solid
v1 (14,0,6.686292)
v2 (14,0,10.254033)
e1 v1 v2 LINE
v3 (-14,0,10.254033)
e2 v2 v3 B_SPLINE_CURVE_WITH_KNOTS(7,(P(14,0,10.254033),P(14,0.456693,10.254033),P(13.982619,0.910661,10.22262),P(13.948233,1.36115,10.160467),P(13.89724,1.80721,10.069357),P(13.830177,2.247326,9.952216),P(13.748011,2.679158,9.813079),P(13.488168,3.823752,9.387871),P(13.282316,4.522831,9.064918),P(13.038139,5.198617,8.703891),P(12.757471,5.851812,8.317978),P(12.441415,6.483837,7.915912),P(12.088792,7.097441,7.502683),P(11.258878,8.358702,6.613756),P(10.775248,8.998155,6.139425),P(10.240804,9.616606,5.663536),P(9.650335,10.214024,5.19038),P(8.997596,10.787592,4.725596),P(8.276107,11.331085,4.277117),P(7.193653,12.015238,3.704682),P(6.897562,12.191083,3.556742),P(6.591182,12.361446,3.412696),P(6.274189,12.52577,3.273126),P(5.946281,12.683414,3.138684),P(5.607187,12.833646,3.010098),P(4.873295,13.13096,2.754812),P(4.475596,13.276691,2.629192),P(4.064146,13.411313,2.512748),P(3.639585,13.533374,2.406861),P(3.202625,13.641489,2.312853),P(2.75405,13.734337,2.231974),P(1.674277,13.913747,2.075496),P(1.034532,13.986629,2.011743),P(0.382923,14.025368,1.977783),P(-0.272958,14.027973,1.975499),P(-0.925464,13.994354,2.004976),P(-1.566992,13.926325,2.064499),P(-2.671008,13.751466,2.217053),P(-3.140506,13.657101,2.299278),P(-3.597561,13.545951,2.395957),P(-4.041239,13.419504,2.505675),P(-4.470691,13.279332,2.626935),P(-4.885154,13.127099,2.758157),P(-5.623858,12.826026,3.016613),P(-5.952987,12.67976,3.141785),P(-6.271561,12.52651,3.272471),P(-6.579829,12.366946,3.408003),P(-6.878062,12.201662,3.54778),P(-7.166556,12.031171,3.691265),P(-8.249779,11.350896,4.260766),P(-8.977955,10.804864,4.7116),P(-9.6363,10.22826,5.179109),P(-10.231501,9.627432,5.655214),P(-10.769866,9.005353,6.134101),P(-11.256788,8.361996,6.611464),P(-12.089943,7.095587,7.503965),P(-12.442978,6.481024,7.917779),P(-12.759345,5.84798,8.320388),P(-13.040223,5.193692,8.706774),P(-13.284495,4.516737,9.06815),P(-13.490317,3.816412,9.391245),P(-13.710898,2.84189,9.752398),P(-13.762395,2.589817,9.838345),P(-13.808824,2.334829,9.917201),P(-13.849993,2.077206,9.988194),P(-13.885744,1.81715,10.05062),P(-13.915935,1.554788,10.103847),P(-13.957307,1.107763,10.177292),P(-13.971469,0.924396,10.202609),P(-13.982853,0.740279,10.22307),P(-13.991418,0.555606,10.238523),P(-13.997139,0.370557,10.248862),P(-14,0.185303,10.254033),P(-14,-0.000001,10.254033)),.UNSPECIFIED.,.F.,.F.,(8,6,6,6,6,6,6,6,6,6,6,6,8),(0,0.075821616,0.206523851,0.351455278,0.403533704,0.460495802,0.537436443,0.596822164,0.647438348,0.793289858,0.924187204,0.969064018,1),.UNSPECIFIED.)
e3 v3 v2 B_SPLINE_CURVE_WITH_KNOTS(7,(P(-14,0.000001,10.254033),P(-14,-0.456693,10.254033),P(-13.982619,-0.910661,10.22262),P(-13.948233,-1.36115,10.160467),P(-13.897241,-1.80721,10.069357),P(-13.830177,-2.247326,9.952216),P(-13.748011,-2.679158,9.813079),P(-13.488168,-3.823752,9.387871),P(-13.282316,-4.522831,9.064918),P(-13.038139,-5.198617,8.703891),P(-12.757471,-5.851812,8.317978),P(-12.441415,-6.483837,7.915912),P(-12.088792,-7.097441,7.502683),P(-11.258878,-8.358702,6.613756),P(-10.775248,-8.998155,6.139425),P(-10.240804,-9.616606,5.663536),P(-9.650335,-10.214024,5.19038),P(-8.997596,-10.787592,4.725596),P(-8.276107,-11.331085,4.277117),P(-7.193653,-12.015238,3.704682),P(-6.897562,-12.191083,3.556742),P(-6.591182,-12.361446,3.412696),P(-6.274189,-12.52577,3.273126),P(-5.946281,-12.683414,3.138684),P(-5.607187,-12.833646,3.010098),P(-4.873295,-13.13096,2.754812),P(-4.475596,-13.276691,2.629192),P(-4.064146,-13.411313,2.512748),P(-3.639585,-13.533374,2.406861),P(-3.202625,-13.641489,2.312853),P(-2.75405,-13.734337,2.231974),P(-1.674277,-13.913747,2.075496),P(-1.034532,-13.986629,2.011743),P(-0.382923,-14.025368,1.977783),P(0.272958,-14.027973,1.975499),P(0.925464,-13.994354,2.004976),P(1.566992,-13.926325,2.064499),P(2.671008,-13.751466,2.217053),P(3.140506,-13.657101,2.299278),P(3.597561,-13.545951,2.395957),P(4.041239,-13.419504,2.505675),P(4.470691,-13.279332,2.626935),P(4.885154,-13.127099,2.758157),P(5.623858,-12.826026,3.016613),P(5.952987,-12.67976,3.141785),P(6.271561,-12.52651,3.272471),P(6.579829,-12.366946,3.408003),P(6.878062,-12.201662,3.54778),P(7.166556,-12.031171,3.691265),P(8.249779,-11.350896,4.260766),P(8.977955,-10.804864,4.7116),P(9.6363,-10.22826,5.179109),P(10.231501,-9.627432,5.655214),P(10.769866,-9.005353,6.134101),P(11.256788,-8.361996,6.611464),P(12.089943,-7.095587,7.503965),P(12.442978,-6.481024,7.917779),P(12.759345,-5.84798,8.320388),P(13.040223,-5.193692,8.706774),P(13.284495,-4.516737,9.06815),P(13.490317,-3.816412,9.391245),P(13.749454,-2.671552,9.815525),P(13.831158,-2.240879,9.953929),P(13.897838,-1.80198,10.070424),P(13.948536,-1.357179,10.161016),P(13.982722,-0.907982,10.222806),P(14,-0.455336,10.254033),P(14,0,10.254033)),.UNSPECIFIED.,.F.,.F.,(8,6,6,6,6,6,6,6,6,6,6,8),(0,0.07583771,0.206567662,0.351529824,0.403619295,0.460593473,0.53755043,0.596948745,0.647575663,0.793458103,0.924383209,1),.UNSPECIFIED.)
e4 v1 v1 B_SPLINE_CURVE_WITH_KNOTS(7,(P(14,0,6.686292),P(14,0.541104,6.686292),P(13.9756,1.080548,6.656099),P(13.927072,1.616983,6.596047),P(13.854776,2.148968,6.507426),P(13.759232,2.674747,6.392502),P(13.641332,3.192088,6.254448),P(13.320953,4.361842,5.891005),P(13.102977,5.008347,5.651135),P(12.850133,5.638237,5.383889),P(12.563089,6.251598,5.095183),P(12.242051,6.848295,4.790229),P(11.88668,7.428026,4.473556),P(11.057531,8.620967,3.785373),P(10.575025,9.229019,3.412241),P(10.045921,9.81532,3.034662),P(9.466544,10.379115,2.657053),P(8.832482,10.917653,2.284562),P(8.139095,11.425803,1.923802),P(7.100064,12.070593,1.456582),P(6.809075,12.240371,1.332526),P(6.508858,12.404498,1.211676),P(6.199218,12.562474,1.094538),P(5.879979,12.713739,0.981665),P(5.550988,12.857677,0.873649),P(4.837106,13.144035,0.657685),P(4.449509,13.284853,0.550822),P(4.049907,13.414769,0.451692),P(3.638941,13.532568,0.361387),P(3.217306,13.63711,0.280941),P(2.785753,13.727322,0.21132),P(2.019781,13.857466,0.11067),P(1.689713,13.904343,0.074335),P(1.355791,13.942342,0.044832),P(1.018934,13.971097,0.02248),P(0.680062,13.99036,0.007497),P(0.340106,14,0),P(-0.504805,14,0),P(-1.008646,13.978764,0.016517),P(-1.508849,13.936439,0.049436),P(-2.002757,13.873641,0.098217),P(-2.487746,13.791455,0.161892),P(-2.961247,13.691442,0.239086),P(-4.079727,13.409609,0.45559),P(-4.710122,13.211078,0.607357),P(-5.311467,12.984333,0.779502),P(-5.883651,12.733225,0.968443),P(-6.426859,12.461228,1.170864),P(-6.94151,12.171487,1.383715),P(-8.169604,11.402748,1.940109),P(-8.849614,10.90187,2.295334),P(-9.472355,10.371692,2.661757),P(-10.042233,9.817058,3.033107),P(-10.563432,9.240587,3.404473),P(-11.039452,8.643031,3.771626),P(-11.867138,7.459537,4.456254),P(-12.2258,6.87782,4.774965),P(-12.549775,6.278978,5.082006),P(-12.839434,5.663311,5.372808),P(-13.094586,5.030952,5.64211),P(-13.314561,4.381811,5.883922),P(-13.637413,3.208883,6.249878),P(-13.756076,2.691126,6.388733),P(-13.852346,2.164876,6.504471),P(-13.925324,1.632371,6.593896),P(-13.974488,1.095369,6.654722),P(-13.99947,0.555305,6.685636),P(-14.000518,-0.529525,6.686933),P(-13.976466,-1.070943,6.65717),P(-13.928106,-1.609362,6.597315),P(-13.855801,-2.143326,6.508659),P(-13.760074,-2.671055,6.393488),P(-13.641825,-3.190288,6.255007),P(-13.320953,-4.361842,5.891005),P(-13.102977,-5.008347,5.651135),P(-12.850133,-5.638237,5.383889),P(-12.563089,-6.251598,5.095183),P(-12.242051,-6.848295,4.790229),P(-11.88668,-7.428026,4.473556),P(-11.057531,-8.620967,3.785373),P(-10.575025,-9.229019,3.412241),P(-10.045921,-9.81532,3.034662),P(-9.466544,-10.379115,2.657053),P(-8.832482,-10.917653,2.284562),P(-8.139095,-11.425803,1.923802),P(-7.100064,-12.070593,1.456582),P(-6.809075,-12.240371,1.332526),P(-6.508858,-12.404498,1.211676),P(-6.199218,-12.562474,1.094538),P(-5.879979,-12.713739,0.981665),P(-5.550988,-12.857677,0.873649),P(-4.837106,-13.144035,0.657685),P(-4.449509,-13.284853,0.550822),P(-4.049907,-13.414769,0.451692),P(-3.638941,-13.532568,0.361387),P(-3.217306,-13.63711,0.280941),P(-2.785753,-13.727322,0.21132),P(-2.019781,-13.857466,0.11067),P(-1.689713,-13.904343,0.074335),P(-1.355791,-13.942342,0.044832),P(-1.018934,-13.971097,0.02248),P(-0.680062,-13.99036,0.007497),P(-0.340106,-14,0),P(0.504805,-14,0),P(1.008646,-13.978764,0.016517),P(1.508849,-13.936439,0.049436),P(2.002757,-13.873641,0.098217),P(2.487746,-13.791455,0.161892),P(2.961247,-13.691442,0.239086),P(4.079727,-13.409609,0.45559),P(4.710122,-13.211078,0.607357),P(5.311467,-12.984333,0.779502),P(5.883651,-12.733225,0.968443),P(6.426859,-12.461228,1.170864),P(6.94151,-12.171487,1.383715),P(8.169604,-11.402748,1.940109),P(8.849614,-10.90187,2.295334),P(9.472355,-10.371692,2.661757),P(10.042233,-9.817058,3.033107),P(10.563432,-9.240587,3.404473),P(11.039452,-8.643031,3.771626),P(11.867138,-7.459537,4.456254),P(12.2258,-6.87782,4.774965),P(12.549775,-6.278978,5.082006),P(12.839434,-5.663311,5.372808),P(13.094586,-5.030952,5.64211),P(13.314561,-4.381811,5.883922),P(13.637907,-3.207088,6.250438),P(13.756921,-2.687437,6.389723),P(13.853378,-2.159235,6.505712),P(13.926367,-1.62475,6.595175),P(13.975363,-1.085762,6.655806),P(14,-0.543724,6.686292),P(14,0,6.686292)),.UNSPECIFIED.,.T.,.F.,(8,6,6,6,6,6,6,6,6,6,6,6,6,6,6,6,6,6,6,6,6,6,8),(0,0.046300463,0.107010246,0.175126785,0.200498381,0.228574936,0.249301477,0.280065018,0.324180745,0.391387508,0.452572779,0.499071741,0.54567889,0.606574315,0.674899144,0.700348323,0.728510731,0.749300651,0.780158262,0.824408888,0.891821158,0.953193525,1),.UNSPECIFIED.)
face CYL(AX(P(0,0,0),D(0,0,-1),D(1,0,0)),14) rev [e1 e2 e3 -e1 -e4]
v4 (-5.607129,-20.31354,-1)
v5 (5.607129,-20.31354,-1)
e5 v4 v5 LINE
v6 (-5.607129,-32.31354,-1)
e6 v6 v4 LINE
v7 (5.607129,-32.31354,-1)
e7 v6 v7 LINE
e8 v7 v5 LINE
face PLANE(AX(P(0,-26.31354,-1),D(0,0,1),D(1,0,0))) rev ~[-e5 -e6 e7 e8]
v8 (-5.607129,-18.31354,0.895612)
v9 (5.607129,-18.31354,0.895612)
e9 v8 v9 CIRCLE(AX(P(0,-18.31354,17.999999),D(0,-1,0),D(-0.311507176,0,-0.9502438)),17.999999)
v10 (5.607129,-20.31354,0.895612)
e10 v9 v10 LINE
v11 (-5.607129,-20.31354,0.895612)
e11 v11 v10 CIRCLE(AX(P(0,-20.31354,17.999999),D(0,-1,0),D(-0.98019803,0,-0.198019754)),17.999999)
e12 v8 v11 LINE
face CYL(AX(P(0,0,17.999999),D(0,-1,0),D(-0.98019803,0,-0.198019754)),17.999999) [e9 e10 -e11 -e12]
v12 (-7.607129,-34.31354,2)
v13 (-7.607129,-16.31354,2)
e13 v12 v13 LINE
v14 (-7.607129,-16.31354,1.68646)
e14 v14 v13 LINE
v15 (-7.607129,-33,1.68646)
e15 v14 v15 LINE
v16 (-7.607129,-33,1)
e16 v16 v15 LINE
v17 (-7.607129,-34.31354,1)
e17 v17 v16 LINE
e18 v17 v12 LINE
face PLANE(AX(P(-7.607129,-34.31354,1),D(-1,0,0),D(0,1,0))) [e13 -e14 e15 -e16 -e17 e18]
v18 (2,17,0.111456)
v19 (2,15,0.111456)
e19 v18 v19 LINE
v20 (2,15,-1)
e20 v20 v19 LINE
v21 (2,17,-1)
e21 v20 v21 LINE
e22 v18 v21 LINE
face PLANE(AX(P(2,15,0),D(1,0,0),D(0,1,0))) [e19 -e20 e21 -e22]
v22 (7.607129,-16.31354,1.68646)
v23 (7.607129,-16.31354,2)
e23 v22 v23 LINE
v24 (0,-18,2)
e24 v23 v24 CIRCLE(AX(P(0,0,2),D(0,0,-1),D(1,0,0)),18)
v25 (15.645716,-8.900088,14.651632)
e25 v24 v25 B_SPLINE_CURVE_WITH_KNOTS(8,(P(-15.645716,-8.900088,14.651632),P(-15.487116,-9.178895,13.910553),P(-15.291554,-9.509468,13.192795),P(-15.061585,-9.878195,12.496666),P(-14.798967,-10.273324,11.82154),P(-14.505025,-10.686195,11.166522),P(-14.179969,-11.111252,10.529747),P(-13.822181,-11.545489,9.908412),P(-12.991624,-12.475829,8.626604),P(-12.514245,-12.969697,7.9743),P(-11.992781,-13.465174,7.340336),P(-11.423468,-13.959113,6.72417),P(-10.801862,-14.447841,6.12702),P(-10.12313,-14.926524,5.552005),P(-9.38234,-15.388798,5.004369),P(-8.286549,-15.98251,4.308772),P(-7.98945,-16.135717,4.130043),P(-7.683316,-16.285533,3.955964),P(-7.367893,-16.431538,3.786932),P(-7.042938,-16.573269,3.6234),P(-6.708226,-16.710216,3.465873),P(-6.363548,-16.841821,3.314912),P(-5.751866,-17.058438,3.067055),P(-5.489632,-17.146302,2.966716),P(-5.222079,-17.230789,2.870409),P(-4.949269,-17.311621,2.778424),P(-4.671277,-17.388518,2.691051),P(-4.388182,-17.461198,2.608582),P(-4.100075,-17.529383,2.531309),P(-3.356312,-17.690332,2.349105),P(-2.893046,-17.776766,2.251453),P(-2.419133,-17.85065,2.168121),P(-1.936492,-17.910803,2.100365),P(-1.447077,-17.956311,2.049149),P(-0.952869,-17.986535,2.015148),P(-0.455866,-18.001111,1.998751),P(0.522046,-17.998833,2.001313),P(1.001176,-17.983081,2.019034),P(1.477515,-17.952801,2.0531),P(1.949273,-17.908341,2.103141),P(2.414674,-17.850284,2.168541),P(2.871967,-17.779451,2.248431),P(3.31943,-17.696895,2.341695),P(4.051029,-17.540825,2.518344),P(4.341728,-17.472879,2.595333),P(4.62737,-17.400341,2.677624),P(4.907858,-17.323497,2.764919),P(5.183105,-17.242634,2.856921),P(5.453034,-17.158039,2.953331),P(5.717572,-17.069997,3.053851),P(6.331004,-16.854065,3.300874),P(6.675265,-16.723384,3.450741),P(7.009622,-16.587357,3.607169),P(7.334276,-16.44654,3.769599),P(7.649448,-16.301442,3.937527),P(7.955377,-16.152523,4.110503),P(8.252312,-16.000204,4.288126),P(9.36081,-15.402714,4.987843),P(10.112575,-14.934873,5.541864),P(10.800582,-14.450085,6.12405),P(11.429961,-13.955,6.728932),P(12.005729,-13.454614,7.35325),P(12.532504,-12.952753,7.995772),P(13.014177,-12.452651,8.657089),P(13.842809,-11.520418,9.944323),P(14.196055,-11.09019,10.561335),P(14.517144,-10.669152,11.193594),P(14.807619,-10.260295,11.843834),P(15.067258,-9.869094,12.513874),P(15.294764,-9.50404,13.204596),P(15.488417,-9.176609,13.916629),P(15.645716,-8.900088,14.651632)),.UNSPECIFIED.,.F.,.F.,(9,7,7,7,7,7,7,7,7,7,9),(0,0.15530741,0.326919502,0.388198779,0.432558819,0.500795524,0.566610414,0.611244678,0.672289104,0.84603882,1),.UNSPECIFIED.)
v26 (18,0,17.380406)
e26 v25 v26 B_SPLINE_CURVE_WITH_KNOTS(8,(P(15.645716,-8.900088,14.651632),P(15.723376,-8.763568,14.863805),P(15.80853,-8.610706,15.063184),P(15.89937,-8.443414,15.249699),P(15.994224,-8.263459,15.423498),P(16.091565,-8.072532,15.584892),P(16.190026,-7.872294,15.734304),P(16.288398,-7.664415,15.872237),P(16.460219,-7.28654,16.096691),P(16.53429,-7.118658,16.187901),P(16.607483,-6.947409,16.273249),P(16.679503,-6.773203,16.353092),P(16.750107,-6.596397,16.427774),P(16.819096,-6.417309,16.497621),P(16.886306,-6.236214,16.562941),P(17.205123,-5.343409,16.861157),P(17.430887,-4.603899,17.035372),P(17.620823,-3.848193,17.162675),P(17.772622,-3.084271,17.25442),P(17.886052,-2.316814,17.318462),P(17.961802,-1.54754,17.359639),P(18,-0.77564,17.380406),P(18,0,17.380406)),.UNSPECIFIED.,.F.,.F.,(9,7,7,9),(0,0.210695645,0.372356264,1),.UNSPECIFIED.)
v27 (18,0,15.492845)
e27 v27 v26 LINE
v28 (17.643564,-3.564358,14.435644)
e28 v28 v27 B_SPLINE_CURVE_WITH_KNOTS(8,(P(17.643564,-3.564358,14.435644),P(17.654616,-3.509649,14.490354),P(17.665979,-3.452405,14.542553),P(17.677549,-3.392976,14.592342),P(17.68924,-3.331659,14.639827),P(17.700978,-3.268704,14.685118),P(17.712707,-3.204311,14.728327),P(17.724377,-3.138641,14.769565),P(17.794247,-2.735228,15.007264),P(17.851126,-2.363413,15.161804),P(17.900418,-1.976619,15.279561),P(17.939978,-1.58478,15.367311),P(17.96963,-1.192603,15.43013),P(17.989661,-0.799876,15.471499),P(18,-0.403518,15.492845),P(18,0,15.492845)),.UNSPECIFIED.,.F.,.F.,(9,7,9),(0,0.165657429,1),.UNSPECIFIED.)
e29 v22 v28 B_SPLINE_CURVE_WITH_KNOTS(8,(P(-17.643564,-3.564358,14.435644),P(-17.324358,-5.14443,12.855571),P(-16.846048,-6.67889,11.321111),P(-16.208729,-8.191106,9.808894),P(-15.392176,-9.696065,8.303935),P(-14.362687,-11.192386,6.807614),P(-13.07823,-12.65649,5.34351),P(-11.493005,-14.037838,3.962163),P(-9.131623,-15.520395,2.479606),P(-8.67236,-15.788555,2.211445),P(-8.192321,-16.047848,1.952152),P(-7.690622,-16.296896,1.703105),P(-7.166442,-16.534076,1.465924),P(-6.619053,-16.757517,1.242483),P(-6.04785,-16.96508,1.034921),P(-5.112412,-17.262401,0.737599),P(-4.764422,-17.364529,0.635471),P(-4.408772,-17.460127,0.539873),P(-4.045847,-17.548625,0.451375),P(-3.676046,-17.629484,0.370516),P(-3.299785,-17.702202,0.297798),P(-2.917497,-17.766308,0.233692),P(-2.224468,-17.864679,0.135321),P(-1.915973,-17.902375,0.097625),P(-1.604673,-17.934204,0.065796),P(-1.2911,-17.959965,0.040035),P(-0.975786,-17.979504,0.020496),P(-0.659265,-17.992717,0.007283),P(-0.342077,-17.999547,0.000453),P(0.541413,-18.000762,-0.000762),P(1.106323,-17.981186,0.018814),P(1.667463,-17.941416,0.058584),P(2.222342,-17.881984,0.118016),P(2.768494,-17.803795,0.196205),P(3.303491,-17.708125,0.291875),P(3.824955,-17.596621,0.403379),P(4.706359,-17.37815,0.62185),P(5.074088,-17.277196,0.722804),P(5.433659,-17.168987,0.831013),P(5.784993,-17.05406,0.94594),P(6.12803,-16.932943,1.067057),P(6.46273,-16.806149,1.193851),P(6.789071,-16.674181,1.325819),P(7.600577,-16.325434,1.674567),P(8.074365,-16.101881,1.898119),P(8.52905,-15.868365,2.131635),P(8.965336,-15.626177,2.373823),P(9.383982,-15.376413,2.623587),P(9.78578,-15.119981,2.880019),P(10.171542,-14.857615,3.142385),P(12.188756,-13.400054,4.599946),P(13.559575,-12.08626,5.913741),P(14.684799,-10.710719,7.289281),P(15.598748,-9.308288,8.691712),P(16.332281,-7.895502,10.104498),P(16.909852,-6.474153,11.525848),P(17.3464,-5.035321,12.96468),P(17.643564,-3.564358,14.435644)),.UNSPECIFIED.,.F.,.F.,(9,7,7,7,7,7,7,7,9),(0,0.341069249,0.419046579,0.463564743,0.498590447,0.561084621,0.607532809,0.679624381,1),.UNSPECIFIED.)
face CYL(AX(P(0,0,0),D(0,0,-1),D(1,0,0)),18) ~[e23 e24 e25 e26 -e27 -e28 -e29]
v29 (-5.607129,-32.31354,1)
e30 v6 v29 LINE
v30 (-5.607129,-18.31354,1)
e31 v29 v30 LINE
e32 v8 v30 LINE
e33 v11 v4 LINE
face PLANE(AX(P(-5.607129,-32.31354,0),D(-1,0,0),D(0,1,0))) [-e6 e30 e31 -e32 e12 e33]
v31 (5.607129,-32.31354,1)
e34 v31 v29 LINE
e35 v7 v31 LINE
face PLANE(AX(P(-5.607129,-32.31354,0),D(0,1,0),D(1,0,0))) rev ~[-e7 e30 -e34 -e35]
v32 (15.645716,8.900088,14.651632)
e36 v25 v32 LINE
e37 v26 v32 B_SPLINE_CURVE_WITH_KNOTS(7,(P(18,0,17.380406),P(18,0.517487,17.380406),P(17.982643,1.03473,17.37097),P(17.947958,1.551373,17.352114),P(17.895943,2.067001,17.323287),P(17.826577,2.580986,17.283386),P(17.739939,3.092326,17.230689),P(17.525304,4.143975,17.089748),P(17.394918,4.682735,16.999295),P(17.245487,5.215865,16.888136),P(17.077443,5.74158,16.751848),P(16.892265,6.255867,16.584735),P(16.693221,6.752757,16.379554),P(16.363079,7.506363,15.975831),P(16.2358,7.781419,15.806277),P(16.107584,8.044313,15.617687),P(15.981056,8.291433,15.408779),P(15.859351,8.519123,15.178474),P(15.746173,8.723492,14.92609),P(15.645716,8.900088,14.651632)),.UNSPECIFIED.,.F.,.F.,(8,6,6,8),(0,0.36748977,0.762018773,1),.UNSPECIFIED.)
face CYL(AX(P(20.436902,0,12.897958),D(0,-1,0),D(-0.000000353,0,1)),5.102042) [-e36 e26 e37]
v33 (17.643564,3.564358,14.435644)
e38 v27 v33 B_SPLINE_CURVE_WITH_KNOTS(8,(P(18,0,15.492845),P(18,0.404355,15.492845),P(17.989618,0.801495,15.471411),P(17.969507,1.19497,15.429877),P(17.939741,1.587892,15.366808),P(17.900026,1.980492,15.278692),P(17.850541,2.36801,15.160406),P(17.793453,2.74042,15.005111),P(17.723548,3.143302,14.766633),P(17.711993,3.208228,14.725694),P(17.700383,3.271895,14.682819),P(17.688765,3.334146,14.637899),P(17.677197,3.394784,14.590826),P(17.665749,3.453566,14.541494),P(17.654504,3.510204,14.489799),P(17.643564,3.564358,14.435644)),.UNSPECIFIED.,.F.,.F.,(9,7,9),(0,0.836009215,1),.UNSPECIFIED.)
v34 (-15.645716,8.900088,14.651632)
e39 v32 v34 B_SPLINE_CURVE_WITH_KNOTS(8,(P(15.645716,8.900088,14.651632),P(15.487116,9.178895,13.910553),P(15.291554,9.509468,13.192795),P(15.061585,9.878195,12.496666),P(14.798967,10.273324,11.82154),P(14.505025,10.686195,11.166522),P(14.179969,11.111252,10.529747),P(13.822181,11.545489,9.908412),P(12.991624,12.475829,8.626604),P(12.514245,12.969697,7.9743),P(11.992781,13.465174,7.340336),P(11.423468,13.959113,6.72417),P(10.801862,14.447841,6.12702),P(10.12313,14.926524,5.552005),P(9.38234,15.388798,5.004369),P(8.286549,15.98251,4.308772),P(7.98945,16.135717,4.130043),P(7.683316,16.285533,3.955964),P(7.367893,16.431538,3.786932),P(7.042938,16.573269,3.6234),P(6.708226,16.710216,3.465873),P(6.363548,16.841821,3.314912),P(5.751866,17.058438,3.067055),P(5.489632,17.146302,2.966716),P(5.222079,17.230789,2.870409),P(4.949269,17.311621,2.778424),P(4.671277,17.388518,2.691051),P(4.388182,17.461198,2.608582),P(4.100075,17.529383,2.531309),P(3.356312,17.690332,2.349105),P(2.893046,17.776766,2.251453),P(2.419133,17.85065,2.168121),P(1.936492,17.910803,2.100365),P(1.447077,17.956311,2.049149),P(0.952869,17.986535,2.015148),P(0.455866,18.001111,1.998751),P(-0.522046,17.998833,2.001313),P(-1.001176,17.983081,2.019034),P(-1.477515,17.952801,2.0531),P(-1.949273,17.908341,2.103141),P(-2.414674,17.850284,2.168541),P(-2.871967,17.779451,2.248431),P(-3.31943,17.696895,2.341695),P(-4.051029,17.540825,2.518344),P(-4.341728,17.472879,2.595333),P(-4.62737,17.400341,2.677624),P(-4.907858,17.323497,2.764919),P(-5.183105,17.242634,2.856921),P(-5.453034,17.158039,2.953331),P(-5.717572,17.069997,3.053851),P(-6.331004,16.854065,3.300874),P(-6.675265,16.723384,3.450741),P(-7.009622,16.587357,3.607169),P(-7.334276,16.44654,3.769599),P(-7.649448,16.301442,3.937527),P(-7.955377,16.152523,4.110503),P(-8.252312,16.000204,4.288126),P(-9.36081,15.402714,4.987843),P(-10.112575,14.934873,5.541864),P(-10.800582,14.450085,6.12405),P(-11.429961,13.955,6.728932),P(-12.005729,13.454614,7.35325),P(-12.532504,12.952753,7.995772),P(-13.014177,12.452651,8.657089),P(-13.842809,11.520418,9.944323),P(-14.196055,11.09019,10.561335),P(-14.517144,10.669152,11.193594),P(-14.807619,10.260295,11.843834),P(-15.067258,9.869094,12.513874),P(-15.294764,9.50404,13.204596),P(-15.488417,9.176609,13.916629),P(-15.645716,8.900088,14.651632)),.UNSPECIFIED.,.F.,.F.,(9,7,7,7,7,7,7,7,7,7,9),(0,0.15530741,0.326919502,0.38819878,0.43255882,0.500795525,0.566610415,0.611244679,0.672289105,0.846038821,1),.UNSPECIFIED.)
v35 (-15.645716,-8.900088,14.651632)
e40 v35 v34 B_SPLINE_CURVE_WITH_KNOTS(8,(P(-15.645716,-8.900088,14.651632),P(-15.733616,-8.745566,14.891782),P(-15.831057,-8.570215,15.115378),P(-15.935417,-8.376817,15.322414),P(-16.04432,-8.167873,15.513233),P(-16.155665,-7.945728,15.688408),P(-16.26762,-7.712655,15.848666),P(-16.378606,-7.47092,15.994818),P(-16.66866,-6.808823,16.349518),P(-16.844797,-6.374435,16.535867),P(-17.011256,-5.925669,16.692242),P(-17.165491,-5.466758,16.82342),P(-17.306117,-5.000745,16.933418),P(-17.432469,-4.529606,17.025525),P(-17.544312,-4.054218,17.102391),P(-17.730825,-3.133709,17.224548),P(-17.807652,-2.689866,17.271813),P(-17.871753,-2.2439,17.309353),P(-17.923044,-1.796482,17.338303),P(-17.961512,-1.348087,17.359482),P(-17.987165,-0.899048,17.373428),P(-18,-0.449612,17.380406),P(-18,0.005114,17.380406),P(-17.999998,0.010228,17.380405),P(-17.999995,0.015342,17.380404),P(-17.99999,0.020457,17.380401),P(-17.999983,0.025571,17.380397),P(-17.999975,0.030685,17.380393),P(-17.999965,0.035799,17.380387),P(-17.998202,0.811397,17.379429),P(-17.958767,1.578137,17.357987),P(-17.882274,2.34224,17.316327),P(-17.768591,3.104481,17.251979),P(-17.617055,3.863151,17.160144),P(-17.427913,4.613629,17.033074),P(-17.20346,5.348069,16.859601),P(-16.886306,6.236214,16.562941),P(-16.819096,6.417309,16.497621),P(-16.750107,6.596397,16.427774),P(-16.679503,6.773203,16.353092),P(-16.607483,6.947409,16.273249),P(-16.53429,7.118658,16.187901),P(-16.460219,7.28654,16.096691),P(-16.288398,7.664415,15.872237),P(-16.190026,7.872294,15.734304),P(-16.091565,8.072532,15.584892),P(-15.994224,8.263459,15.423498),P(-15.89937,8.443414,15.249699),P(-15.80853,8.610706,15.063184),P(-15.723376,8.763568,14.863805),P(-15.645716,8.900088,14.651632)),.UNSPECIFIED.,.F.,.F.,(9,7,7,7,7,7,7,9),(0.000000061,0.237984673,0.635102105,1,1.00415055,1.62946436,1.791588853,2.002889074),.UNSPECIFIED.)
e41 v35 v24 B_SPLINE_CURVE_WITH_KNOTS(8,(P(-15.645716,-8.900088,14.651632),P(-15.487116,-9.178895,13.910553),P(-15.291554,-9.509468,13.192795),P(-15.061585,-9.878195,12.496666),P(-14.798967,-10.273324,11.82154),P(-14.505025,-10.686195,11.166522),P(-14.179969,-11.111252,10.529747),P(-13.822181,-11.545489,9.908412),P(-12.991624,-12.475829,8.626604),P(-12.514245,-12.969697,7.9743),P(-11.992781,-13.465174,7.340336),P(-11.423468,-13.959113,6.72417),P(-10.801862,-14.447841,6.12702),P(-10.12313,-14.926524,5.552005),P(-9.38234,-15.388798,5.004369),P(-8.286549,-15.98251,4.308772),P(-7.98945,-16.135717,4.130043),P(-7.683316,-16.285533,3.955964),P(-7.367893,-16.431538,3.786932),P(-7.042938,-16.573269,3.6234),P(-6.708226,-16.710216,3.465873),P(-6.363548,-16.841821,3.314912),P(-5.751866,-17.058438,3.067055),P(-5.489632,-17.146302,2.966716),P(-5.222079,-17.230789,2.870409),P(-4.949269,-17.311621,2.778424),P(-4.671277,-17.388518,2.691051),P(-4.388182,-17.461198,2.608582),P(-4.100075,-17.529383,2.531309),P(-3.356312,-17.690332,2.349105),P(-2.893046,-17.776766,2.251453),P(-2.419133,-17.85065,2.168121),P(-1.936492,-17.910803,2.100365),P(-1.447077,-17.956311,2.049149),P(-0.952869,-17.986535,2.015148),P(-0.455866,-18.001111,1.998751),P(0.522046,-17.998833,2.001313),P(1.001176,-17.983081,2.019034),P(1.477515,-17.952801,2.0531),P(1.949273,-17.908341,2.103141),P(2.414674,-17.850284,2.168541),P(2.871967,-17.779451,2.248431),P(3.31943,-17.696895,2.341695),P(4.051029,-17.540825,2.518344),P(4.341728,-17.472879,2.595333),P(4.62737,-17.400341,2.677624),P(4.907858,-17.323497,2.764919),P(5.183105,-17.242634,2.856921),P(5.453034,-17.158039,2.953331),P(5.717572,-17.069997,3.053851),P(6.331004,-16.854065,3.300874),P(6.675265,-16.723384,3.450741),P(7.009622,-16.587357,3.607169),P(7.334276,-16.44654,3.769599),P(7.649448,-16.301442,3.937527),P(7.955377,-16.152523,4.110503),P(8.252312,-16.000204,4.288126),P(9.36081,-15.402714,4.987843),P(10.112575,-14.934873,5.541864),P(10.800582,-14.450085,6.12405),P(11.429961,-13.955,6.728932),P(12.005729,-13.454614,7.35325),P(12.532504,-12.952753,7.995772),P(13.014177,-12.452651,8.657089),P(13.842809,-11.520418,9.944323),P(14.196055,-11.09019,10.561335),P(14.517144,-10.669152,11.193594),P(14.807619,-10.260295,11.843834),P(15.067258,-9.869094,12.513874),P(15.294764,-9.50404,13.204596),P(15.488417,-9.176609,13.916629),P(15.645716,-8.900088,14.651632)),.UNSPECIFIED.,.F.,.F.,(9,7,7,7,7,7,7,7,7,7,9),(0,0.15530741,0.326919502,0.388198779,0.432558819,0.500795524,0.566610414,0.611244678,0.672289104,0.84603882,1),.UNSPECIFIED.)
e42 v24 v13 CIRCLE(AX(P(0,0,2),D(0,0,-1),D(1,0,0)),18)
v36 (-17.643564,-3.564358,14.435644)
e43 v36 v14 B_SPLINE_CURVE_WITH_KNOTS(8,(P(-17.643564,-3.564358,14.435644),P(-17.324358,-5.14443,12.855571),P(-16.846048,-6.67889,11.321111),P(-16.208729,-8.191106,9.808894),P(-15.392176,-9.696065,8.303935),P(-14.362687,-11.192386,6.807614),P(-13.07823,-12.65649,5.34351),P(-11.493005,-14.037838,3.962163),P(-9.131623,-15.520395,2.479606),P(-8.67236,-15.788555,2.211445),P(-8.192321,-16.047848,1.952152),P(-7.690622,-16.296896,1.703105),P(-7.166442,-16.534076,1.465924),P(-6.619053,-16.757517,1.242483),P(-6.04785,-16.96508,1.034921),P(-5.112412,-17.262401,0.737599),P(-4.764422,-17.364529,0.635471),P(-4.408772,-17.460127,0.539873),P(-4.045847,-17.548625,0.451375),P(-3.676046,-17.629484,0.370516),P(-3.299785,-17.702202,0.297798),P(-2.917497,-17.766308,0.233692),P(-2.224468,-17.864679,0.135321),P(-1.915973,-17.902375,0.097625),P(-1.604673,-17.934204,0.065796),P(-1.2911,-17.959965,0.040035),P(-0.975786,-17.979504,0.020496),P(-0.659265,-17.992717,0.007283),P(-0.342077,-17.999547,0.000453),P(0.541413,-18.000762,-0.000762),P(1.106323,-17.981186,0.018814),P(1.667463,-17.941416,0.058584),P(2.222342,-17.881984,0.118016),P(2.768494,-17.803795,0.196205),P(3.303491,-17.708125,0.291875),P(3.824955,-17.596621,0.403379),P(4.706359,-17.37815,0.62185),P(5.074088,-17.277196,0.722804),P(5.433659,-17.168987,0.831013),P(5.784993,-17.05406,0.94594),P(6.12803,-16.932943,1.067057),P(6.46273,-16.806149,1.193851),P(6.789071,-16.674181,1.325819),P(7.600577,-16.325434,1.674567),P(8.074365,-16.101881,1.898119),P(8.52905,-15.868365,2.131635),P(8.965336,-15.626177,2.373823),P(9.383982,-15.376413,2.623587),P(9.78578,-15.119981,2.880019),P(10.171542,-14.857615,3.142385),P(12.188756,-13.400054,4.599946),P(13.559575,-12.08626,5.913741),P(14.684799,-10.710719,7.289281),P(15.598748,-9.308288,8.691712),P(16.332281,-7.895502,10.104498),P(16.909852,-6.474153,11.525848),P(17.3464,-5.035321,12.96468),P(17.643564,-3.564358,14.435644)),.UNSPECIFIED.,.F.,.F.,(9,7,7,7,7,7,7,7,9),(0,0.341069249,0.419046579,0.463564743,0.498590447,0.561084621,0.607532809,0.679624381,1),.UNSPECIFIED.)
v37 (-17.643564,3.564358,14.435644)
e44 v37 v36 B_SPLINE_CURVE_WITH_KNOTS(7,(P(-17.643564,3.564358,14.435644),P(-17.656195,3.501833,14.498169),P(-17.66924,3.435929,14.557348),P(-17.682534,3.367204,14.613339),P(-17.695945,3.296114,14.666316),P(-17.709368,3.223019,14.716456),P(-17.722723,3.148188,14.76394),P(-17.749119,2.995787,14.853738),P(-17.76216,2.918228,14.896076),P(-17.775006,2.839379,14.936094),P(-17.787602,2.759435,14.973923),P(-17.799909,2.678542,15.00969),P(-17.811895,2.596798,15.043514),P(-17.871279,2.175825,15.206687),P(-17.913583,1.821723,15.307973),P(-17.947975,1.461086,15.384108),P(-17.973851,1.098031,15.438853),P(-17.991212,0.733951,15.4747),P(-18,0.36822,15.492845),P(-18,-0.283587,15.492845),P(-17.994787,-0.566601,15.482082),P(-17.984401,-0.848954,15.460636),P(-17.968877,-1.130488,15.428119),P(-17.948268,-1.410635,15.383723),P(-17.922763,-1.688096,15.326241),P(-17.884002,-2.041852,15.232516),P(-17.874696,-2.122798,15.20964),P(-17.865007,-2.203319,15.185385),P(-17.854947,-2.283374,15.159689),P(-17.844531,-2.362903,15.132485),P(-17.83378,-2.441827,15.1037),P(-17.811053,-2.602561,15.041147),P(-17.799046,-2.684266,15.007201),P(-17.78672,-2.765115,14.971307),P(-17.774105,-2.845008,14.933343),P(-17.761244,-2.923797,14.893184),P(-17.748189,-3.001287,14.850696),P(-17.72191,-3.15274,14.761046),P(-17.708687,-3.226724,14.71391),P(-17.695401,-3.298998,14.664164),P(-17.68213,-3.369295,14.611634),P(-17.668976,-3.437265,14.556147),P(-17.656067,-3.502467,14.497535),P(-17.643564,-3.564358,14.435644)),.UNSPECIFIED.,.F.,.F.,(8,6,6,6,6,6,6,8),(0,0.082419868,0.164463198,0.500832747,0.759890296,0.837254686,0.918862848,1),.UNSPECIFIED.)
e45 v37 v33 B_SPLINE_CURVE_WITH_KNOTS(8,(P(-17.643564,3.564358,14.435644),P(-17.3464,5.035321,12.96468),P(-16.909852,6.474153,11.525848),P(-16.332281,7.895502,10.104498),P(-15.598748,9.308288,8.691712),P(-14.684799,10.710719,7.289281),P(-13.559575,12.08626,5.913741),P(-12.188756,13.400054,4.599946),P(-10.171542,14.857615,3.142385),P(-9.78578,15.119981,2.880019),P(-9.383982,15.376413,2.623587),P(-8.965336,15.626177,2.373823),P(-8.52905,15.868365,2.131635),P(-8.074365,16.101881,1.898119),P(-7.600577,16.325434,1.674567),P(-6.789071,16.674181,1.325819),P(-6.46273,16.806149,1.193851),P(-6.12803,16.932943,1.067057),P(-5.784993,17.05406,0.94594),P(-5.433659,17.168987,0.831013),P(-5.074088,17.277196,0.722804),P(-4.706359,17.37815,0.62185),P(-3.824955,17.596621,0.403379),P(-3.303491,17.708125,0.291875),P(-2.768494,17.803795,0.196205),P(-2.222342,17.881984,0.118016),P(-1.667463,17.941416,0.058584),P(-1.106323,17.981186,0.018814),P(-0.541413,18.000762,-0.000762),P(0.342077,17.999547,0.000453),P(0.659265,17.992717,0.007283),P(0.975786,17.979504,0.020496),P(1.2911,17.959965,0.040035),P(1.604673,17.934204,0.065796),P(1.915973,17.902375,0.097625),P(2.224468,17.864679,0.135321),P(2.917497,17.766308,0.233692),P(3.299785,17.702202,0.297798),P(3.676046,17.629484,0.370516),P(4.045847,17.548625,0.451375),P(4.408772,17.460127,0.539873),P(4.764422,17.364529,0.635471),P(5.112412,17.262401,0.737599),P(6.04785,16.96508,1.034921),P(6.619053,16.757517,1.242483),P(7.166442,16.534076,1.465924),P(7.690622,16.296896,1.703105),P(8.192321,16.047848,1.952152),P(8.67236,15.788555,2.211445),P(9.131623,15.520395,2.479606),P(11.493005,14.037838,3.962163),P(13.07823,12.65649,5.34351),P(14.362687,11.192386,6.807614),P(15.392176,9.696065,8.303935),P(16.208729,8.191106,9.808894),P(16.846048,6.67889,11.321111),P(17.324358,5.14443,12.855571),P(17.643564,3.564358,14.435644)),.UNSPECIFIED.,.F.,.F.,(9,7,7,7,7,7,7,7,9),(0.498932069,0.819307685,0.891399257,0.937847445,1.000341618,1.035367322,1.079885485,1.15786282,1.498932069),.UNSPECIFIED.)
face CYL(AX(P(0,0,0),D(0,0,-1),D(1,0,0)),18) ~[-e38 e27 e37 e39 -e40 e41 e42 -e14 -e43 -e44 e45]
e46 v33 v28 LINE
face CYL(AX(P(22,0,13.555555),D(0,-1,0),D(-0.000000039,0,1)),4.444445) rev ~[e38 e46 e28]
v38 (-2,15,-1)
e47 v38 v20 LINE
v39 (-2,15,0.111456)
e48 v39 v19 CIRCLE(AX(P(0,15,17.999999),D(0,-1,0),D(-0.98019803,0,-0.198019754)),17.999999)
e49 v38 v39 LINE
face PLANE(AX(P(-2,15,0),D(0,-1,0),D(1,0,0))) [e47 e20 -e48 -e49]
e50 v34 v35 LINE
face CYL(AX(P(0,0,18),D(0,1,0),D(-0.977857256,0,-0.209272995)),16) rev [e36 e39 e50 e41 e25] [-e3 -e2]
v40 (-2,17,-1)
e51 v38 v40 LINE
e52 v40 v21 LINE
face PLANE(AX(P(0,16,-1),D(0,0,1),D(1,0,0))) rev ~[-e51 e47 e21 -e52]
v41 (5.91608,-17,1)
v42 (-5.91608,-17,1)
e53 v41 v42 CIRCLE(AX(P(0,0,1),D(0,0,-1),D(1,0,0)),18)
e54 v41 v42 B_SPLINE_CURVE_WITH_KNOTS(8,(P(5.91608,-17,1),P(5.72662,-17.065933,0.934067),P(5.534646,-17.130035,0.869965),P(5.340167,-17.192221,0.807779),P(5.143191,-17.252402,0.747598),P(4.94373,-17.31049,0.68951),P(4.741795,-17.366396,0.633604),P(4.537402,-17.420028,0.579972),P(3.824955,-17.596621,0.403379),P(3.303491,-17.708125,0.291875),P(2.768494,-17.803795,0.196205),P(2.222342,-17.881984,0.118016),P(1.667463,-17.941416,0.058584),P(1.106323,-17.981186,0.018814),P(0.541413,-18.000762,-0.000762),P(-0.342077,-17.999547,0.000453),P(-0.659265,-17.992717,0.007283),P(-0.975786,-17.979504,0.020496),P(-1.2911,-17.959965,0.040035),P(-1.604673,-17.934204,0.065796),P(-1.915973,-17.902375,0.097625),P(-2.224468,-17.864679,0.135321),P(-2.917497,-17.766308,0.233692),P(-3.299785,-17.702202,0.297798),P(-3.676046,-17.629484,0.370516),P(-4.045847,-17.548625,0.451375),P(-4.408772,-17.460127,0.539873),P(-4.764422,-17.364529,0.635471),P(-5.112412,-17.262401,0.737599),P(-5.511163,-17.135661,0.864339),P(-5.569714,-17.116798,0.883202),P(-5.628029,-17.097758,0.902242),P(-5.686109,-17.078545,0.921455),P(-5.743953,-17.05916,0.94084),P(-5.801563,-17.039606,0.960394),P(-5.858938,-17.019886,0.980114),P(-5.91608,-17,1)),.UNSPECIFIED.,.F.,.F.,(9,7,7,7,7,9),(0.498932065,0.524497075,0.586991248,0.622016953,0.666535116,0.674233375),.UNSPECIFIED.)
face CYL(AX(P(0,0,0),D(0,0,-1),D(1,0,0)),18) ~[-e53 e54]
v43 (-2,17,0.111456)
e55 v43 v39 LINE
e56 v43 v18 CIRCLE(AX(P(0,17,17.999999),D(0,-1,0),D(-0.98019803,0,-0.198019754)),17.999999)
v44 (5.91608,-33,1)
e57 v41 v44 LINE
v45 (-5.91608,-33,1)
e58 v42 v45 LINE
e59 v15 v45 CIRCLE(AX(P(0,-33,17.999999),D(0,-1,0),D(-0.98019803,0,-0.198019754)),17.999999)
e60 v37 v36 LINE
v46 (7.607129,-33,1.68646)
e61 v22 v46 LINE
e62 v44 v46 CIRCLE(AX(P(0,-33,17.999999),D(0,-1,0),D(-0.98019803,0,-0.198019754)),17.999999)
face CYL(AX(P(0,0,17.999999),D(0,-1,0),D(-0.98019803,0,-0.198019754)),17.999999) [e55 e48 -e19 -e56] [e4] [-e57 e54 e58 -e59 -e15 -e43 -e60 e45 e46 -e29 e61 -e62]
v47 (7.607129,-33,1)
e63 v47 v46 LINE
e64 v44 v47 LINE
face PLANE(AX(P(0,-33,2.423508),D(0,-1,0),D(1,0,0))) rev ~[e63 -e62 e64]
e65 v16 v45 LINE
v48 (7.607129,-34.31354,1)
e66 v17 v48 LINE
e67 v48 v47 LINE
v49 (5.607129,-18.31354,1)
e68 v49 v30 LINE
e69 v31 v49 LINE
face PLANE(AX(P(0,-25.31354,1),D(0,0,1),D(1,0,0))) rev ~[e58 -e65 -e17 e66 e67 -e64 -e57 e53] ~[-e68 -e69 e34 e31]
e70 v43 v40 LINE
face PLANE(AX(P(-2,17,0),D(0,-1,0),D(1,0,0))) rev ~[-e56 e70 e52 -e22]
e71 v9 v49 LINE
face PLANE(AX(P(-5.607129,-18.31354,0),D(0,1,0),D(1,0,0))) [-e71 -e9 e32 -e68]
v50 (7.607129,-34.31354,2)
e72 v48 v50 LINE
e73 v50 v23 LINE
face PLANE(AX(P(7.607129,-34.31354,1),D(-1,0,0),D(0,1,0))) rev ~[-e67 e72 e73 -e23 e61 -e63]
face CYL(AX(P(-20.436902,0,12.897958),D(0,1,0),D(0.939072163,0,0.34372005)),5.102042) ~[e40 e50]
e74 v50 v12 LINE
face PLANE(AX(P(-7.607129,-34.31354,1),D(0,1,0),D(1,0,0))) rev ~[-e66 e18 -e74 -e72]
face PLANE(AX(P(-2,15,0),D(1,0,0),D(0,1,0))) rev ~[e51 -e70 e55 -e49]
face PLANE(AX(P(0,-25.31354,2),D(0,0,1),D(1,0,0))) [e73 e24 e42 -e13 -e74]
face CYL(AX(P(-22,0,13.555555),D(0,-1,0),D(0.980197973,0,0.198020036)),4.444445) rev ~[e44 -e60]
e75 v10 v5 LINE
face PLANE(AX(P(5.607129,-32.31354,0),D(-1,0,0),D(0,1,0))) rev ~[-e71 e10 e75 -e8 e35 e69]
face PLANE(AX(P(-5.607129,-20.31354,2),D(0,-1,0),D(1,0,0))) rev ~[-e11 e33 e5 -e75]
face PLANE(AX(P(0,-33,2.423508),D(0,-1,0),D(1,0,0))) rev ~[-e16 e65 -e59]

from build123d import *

# Parameters (mm, degrees)
SKETCH_R             = 18
PAD_DEPTH            = 36
SKETCH001_R          = 14
POCKET_DEPTH         = 36.001
SKETCH004_W          = 15.214258
SKETCH004_H          = 18
PAD001_DEPTH         = 1
SKETCH005_W          = 11.214258
SKETCH005_H          = 14
PAD002_DEPTH         = 2
POCKET001_DEPTH      = 33
POCKET002_DEPTH      = 18.001
POCKET002_DEPTH_BACK = -34.31454
SKETCH007_W          = 4
SKETCH007_H          = 2
PAD003_DEPTH         = 1
SKETCH008_W          = 11.214258
SKETCH008_H          = 12
PAD004_DEPTH         = 3


with BuildPart() as part:
    # Sketch → Pad (new body)
    with BuildSketch(Plane.XY):
        Circle(SKETCH_R)
    extrude(amount=PAD_DEPTH)

    # Sketch001 → Pocket (cut, through all)
    with BuildSketch(Plane.XY):
        Circle(SKETCH001_R)
    extrude(amount=POCKET_DEPTH, mode=Mode.SUBTRACT)

    # Sketch004 → Pad001 (join)
    with BuildSketch(Plane.XY.offset(1)):
        with Locations((0, -25.31354)):
            Rectangle(SKETCH004_W, SKETCH004_H)
    extrude(amount=PAD001_DEPTH)

    # Sketch005 → Pad002 (join)
    with BuildSketch(Plane.XY):
        with Locations((0, -25.31354)):
            Rectangle(SKETCH005_W, SKETCH005_H)
    extrude(amount=PAD002_DEPTH)

    # Sketch002 → Pocket001 (cut, symmetric)
    with BuildSketch(Plane.XZ):
        with BuildLine():
            Line((-40, -10), (40, -10))
            Line((40, -10), (40, 18))
            Line((40, 18), (22, 18))
            ThreePointArc((22, 18), (19.18561, 16.995366), (17.643564, 14.435644))
            ThreePointArc((-17.643564, 14.435644), (0, 0), (17.643564, 14.435644))
            ThreePointArc((-17.643564, 14.435644), (-19.18561, 16.995366), (-22, 18))
            Line((-22, 18), (-40, 18))
            Line((-40, 18), (-40, -10))
        make_face()
    extrude(amount=POCKET001_DEPTH, both=True, mode=Mode.SUBTRACT)

    # Sketch003 → Pocket002 (cut, two sides)
    with BuildSketch(Plane.XZ) as pocket002_sk:
        with BuildLine():
            Line((-30, 36), (30, 36))
            Line((30, 36), (30, 18))
            Line((30, 18), (20.4369, 18))
            ThreePointArc((20.4369, 18), (17.514273, 17.079952), (15.645716, 14.651632))
            ThreePointArc((-15.645716, 14.651632), (0, 2), (15.645716, 14.651632))
            ThreePointArc((-15.645716, 14.651632), (-17.514273, 17.079952), (-20.4369, 18))
            Line((-20.4369, 18), (-30, 18))
            Line((-30, 18), (-30, 36))
        make_face()
    extrude(amount=-POCKET002_DEPTH, mode=Mode.SUBTRACT)
    extrude(pocket002_sk.sketch, amount=-POCKET002_DEPTH_BACK, mode=Mode.SUBTRACT)

    # Sketch007 → Pad003 (join, symmetric)
    with BuildSketch(Plane.XY):
        with Locations((0, 16)):
            Rectangle(SKETCH007_W, SKETCH007_H)
    extrude(amount=PAD003_DEPTH, both=True)

    # Sketch008 → Pad004 (join)
    with BuildSketch(Plane.XY.offset(2)):
        with Locations((0, -26.31354)):
            Rectangle(SKETCH008_W, SKETCH008_H)
    extrude(amount=-PAD004_DEPTH)


solid = part.part
